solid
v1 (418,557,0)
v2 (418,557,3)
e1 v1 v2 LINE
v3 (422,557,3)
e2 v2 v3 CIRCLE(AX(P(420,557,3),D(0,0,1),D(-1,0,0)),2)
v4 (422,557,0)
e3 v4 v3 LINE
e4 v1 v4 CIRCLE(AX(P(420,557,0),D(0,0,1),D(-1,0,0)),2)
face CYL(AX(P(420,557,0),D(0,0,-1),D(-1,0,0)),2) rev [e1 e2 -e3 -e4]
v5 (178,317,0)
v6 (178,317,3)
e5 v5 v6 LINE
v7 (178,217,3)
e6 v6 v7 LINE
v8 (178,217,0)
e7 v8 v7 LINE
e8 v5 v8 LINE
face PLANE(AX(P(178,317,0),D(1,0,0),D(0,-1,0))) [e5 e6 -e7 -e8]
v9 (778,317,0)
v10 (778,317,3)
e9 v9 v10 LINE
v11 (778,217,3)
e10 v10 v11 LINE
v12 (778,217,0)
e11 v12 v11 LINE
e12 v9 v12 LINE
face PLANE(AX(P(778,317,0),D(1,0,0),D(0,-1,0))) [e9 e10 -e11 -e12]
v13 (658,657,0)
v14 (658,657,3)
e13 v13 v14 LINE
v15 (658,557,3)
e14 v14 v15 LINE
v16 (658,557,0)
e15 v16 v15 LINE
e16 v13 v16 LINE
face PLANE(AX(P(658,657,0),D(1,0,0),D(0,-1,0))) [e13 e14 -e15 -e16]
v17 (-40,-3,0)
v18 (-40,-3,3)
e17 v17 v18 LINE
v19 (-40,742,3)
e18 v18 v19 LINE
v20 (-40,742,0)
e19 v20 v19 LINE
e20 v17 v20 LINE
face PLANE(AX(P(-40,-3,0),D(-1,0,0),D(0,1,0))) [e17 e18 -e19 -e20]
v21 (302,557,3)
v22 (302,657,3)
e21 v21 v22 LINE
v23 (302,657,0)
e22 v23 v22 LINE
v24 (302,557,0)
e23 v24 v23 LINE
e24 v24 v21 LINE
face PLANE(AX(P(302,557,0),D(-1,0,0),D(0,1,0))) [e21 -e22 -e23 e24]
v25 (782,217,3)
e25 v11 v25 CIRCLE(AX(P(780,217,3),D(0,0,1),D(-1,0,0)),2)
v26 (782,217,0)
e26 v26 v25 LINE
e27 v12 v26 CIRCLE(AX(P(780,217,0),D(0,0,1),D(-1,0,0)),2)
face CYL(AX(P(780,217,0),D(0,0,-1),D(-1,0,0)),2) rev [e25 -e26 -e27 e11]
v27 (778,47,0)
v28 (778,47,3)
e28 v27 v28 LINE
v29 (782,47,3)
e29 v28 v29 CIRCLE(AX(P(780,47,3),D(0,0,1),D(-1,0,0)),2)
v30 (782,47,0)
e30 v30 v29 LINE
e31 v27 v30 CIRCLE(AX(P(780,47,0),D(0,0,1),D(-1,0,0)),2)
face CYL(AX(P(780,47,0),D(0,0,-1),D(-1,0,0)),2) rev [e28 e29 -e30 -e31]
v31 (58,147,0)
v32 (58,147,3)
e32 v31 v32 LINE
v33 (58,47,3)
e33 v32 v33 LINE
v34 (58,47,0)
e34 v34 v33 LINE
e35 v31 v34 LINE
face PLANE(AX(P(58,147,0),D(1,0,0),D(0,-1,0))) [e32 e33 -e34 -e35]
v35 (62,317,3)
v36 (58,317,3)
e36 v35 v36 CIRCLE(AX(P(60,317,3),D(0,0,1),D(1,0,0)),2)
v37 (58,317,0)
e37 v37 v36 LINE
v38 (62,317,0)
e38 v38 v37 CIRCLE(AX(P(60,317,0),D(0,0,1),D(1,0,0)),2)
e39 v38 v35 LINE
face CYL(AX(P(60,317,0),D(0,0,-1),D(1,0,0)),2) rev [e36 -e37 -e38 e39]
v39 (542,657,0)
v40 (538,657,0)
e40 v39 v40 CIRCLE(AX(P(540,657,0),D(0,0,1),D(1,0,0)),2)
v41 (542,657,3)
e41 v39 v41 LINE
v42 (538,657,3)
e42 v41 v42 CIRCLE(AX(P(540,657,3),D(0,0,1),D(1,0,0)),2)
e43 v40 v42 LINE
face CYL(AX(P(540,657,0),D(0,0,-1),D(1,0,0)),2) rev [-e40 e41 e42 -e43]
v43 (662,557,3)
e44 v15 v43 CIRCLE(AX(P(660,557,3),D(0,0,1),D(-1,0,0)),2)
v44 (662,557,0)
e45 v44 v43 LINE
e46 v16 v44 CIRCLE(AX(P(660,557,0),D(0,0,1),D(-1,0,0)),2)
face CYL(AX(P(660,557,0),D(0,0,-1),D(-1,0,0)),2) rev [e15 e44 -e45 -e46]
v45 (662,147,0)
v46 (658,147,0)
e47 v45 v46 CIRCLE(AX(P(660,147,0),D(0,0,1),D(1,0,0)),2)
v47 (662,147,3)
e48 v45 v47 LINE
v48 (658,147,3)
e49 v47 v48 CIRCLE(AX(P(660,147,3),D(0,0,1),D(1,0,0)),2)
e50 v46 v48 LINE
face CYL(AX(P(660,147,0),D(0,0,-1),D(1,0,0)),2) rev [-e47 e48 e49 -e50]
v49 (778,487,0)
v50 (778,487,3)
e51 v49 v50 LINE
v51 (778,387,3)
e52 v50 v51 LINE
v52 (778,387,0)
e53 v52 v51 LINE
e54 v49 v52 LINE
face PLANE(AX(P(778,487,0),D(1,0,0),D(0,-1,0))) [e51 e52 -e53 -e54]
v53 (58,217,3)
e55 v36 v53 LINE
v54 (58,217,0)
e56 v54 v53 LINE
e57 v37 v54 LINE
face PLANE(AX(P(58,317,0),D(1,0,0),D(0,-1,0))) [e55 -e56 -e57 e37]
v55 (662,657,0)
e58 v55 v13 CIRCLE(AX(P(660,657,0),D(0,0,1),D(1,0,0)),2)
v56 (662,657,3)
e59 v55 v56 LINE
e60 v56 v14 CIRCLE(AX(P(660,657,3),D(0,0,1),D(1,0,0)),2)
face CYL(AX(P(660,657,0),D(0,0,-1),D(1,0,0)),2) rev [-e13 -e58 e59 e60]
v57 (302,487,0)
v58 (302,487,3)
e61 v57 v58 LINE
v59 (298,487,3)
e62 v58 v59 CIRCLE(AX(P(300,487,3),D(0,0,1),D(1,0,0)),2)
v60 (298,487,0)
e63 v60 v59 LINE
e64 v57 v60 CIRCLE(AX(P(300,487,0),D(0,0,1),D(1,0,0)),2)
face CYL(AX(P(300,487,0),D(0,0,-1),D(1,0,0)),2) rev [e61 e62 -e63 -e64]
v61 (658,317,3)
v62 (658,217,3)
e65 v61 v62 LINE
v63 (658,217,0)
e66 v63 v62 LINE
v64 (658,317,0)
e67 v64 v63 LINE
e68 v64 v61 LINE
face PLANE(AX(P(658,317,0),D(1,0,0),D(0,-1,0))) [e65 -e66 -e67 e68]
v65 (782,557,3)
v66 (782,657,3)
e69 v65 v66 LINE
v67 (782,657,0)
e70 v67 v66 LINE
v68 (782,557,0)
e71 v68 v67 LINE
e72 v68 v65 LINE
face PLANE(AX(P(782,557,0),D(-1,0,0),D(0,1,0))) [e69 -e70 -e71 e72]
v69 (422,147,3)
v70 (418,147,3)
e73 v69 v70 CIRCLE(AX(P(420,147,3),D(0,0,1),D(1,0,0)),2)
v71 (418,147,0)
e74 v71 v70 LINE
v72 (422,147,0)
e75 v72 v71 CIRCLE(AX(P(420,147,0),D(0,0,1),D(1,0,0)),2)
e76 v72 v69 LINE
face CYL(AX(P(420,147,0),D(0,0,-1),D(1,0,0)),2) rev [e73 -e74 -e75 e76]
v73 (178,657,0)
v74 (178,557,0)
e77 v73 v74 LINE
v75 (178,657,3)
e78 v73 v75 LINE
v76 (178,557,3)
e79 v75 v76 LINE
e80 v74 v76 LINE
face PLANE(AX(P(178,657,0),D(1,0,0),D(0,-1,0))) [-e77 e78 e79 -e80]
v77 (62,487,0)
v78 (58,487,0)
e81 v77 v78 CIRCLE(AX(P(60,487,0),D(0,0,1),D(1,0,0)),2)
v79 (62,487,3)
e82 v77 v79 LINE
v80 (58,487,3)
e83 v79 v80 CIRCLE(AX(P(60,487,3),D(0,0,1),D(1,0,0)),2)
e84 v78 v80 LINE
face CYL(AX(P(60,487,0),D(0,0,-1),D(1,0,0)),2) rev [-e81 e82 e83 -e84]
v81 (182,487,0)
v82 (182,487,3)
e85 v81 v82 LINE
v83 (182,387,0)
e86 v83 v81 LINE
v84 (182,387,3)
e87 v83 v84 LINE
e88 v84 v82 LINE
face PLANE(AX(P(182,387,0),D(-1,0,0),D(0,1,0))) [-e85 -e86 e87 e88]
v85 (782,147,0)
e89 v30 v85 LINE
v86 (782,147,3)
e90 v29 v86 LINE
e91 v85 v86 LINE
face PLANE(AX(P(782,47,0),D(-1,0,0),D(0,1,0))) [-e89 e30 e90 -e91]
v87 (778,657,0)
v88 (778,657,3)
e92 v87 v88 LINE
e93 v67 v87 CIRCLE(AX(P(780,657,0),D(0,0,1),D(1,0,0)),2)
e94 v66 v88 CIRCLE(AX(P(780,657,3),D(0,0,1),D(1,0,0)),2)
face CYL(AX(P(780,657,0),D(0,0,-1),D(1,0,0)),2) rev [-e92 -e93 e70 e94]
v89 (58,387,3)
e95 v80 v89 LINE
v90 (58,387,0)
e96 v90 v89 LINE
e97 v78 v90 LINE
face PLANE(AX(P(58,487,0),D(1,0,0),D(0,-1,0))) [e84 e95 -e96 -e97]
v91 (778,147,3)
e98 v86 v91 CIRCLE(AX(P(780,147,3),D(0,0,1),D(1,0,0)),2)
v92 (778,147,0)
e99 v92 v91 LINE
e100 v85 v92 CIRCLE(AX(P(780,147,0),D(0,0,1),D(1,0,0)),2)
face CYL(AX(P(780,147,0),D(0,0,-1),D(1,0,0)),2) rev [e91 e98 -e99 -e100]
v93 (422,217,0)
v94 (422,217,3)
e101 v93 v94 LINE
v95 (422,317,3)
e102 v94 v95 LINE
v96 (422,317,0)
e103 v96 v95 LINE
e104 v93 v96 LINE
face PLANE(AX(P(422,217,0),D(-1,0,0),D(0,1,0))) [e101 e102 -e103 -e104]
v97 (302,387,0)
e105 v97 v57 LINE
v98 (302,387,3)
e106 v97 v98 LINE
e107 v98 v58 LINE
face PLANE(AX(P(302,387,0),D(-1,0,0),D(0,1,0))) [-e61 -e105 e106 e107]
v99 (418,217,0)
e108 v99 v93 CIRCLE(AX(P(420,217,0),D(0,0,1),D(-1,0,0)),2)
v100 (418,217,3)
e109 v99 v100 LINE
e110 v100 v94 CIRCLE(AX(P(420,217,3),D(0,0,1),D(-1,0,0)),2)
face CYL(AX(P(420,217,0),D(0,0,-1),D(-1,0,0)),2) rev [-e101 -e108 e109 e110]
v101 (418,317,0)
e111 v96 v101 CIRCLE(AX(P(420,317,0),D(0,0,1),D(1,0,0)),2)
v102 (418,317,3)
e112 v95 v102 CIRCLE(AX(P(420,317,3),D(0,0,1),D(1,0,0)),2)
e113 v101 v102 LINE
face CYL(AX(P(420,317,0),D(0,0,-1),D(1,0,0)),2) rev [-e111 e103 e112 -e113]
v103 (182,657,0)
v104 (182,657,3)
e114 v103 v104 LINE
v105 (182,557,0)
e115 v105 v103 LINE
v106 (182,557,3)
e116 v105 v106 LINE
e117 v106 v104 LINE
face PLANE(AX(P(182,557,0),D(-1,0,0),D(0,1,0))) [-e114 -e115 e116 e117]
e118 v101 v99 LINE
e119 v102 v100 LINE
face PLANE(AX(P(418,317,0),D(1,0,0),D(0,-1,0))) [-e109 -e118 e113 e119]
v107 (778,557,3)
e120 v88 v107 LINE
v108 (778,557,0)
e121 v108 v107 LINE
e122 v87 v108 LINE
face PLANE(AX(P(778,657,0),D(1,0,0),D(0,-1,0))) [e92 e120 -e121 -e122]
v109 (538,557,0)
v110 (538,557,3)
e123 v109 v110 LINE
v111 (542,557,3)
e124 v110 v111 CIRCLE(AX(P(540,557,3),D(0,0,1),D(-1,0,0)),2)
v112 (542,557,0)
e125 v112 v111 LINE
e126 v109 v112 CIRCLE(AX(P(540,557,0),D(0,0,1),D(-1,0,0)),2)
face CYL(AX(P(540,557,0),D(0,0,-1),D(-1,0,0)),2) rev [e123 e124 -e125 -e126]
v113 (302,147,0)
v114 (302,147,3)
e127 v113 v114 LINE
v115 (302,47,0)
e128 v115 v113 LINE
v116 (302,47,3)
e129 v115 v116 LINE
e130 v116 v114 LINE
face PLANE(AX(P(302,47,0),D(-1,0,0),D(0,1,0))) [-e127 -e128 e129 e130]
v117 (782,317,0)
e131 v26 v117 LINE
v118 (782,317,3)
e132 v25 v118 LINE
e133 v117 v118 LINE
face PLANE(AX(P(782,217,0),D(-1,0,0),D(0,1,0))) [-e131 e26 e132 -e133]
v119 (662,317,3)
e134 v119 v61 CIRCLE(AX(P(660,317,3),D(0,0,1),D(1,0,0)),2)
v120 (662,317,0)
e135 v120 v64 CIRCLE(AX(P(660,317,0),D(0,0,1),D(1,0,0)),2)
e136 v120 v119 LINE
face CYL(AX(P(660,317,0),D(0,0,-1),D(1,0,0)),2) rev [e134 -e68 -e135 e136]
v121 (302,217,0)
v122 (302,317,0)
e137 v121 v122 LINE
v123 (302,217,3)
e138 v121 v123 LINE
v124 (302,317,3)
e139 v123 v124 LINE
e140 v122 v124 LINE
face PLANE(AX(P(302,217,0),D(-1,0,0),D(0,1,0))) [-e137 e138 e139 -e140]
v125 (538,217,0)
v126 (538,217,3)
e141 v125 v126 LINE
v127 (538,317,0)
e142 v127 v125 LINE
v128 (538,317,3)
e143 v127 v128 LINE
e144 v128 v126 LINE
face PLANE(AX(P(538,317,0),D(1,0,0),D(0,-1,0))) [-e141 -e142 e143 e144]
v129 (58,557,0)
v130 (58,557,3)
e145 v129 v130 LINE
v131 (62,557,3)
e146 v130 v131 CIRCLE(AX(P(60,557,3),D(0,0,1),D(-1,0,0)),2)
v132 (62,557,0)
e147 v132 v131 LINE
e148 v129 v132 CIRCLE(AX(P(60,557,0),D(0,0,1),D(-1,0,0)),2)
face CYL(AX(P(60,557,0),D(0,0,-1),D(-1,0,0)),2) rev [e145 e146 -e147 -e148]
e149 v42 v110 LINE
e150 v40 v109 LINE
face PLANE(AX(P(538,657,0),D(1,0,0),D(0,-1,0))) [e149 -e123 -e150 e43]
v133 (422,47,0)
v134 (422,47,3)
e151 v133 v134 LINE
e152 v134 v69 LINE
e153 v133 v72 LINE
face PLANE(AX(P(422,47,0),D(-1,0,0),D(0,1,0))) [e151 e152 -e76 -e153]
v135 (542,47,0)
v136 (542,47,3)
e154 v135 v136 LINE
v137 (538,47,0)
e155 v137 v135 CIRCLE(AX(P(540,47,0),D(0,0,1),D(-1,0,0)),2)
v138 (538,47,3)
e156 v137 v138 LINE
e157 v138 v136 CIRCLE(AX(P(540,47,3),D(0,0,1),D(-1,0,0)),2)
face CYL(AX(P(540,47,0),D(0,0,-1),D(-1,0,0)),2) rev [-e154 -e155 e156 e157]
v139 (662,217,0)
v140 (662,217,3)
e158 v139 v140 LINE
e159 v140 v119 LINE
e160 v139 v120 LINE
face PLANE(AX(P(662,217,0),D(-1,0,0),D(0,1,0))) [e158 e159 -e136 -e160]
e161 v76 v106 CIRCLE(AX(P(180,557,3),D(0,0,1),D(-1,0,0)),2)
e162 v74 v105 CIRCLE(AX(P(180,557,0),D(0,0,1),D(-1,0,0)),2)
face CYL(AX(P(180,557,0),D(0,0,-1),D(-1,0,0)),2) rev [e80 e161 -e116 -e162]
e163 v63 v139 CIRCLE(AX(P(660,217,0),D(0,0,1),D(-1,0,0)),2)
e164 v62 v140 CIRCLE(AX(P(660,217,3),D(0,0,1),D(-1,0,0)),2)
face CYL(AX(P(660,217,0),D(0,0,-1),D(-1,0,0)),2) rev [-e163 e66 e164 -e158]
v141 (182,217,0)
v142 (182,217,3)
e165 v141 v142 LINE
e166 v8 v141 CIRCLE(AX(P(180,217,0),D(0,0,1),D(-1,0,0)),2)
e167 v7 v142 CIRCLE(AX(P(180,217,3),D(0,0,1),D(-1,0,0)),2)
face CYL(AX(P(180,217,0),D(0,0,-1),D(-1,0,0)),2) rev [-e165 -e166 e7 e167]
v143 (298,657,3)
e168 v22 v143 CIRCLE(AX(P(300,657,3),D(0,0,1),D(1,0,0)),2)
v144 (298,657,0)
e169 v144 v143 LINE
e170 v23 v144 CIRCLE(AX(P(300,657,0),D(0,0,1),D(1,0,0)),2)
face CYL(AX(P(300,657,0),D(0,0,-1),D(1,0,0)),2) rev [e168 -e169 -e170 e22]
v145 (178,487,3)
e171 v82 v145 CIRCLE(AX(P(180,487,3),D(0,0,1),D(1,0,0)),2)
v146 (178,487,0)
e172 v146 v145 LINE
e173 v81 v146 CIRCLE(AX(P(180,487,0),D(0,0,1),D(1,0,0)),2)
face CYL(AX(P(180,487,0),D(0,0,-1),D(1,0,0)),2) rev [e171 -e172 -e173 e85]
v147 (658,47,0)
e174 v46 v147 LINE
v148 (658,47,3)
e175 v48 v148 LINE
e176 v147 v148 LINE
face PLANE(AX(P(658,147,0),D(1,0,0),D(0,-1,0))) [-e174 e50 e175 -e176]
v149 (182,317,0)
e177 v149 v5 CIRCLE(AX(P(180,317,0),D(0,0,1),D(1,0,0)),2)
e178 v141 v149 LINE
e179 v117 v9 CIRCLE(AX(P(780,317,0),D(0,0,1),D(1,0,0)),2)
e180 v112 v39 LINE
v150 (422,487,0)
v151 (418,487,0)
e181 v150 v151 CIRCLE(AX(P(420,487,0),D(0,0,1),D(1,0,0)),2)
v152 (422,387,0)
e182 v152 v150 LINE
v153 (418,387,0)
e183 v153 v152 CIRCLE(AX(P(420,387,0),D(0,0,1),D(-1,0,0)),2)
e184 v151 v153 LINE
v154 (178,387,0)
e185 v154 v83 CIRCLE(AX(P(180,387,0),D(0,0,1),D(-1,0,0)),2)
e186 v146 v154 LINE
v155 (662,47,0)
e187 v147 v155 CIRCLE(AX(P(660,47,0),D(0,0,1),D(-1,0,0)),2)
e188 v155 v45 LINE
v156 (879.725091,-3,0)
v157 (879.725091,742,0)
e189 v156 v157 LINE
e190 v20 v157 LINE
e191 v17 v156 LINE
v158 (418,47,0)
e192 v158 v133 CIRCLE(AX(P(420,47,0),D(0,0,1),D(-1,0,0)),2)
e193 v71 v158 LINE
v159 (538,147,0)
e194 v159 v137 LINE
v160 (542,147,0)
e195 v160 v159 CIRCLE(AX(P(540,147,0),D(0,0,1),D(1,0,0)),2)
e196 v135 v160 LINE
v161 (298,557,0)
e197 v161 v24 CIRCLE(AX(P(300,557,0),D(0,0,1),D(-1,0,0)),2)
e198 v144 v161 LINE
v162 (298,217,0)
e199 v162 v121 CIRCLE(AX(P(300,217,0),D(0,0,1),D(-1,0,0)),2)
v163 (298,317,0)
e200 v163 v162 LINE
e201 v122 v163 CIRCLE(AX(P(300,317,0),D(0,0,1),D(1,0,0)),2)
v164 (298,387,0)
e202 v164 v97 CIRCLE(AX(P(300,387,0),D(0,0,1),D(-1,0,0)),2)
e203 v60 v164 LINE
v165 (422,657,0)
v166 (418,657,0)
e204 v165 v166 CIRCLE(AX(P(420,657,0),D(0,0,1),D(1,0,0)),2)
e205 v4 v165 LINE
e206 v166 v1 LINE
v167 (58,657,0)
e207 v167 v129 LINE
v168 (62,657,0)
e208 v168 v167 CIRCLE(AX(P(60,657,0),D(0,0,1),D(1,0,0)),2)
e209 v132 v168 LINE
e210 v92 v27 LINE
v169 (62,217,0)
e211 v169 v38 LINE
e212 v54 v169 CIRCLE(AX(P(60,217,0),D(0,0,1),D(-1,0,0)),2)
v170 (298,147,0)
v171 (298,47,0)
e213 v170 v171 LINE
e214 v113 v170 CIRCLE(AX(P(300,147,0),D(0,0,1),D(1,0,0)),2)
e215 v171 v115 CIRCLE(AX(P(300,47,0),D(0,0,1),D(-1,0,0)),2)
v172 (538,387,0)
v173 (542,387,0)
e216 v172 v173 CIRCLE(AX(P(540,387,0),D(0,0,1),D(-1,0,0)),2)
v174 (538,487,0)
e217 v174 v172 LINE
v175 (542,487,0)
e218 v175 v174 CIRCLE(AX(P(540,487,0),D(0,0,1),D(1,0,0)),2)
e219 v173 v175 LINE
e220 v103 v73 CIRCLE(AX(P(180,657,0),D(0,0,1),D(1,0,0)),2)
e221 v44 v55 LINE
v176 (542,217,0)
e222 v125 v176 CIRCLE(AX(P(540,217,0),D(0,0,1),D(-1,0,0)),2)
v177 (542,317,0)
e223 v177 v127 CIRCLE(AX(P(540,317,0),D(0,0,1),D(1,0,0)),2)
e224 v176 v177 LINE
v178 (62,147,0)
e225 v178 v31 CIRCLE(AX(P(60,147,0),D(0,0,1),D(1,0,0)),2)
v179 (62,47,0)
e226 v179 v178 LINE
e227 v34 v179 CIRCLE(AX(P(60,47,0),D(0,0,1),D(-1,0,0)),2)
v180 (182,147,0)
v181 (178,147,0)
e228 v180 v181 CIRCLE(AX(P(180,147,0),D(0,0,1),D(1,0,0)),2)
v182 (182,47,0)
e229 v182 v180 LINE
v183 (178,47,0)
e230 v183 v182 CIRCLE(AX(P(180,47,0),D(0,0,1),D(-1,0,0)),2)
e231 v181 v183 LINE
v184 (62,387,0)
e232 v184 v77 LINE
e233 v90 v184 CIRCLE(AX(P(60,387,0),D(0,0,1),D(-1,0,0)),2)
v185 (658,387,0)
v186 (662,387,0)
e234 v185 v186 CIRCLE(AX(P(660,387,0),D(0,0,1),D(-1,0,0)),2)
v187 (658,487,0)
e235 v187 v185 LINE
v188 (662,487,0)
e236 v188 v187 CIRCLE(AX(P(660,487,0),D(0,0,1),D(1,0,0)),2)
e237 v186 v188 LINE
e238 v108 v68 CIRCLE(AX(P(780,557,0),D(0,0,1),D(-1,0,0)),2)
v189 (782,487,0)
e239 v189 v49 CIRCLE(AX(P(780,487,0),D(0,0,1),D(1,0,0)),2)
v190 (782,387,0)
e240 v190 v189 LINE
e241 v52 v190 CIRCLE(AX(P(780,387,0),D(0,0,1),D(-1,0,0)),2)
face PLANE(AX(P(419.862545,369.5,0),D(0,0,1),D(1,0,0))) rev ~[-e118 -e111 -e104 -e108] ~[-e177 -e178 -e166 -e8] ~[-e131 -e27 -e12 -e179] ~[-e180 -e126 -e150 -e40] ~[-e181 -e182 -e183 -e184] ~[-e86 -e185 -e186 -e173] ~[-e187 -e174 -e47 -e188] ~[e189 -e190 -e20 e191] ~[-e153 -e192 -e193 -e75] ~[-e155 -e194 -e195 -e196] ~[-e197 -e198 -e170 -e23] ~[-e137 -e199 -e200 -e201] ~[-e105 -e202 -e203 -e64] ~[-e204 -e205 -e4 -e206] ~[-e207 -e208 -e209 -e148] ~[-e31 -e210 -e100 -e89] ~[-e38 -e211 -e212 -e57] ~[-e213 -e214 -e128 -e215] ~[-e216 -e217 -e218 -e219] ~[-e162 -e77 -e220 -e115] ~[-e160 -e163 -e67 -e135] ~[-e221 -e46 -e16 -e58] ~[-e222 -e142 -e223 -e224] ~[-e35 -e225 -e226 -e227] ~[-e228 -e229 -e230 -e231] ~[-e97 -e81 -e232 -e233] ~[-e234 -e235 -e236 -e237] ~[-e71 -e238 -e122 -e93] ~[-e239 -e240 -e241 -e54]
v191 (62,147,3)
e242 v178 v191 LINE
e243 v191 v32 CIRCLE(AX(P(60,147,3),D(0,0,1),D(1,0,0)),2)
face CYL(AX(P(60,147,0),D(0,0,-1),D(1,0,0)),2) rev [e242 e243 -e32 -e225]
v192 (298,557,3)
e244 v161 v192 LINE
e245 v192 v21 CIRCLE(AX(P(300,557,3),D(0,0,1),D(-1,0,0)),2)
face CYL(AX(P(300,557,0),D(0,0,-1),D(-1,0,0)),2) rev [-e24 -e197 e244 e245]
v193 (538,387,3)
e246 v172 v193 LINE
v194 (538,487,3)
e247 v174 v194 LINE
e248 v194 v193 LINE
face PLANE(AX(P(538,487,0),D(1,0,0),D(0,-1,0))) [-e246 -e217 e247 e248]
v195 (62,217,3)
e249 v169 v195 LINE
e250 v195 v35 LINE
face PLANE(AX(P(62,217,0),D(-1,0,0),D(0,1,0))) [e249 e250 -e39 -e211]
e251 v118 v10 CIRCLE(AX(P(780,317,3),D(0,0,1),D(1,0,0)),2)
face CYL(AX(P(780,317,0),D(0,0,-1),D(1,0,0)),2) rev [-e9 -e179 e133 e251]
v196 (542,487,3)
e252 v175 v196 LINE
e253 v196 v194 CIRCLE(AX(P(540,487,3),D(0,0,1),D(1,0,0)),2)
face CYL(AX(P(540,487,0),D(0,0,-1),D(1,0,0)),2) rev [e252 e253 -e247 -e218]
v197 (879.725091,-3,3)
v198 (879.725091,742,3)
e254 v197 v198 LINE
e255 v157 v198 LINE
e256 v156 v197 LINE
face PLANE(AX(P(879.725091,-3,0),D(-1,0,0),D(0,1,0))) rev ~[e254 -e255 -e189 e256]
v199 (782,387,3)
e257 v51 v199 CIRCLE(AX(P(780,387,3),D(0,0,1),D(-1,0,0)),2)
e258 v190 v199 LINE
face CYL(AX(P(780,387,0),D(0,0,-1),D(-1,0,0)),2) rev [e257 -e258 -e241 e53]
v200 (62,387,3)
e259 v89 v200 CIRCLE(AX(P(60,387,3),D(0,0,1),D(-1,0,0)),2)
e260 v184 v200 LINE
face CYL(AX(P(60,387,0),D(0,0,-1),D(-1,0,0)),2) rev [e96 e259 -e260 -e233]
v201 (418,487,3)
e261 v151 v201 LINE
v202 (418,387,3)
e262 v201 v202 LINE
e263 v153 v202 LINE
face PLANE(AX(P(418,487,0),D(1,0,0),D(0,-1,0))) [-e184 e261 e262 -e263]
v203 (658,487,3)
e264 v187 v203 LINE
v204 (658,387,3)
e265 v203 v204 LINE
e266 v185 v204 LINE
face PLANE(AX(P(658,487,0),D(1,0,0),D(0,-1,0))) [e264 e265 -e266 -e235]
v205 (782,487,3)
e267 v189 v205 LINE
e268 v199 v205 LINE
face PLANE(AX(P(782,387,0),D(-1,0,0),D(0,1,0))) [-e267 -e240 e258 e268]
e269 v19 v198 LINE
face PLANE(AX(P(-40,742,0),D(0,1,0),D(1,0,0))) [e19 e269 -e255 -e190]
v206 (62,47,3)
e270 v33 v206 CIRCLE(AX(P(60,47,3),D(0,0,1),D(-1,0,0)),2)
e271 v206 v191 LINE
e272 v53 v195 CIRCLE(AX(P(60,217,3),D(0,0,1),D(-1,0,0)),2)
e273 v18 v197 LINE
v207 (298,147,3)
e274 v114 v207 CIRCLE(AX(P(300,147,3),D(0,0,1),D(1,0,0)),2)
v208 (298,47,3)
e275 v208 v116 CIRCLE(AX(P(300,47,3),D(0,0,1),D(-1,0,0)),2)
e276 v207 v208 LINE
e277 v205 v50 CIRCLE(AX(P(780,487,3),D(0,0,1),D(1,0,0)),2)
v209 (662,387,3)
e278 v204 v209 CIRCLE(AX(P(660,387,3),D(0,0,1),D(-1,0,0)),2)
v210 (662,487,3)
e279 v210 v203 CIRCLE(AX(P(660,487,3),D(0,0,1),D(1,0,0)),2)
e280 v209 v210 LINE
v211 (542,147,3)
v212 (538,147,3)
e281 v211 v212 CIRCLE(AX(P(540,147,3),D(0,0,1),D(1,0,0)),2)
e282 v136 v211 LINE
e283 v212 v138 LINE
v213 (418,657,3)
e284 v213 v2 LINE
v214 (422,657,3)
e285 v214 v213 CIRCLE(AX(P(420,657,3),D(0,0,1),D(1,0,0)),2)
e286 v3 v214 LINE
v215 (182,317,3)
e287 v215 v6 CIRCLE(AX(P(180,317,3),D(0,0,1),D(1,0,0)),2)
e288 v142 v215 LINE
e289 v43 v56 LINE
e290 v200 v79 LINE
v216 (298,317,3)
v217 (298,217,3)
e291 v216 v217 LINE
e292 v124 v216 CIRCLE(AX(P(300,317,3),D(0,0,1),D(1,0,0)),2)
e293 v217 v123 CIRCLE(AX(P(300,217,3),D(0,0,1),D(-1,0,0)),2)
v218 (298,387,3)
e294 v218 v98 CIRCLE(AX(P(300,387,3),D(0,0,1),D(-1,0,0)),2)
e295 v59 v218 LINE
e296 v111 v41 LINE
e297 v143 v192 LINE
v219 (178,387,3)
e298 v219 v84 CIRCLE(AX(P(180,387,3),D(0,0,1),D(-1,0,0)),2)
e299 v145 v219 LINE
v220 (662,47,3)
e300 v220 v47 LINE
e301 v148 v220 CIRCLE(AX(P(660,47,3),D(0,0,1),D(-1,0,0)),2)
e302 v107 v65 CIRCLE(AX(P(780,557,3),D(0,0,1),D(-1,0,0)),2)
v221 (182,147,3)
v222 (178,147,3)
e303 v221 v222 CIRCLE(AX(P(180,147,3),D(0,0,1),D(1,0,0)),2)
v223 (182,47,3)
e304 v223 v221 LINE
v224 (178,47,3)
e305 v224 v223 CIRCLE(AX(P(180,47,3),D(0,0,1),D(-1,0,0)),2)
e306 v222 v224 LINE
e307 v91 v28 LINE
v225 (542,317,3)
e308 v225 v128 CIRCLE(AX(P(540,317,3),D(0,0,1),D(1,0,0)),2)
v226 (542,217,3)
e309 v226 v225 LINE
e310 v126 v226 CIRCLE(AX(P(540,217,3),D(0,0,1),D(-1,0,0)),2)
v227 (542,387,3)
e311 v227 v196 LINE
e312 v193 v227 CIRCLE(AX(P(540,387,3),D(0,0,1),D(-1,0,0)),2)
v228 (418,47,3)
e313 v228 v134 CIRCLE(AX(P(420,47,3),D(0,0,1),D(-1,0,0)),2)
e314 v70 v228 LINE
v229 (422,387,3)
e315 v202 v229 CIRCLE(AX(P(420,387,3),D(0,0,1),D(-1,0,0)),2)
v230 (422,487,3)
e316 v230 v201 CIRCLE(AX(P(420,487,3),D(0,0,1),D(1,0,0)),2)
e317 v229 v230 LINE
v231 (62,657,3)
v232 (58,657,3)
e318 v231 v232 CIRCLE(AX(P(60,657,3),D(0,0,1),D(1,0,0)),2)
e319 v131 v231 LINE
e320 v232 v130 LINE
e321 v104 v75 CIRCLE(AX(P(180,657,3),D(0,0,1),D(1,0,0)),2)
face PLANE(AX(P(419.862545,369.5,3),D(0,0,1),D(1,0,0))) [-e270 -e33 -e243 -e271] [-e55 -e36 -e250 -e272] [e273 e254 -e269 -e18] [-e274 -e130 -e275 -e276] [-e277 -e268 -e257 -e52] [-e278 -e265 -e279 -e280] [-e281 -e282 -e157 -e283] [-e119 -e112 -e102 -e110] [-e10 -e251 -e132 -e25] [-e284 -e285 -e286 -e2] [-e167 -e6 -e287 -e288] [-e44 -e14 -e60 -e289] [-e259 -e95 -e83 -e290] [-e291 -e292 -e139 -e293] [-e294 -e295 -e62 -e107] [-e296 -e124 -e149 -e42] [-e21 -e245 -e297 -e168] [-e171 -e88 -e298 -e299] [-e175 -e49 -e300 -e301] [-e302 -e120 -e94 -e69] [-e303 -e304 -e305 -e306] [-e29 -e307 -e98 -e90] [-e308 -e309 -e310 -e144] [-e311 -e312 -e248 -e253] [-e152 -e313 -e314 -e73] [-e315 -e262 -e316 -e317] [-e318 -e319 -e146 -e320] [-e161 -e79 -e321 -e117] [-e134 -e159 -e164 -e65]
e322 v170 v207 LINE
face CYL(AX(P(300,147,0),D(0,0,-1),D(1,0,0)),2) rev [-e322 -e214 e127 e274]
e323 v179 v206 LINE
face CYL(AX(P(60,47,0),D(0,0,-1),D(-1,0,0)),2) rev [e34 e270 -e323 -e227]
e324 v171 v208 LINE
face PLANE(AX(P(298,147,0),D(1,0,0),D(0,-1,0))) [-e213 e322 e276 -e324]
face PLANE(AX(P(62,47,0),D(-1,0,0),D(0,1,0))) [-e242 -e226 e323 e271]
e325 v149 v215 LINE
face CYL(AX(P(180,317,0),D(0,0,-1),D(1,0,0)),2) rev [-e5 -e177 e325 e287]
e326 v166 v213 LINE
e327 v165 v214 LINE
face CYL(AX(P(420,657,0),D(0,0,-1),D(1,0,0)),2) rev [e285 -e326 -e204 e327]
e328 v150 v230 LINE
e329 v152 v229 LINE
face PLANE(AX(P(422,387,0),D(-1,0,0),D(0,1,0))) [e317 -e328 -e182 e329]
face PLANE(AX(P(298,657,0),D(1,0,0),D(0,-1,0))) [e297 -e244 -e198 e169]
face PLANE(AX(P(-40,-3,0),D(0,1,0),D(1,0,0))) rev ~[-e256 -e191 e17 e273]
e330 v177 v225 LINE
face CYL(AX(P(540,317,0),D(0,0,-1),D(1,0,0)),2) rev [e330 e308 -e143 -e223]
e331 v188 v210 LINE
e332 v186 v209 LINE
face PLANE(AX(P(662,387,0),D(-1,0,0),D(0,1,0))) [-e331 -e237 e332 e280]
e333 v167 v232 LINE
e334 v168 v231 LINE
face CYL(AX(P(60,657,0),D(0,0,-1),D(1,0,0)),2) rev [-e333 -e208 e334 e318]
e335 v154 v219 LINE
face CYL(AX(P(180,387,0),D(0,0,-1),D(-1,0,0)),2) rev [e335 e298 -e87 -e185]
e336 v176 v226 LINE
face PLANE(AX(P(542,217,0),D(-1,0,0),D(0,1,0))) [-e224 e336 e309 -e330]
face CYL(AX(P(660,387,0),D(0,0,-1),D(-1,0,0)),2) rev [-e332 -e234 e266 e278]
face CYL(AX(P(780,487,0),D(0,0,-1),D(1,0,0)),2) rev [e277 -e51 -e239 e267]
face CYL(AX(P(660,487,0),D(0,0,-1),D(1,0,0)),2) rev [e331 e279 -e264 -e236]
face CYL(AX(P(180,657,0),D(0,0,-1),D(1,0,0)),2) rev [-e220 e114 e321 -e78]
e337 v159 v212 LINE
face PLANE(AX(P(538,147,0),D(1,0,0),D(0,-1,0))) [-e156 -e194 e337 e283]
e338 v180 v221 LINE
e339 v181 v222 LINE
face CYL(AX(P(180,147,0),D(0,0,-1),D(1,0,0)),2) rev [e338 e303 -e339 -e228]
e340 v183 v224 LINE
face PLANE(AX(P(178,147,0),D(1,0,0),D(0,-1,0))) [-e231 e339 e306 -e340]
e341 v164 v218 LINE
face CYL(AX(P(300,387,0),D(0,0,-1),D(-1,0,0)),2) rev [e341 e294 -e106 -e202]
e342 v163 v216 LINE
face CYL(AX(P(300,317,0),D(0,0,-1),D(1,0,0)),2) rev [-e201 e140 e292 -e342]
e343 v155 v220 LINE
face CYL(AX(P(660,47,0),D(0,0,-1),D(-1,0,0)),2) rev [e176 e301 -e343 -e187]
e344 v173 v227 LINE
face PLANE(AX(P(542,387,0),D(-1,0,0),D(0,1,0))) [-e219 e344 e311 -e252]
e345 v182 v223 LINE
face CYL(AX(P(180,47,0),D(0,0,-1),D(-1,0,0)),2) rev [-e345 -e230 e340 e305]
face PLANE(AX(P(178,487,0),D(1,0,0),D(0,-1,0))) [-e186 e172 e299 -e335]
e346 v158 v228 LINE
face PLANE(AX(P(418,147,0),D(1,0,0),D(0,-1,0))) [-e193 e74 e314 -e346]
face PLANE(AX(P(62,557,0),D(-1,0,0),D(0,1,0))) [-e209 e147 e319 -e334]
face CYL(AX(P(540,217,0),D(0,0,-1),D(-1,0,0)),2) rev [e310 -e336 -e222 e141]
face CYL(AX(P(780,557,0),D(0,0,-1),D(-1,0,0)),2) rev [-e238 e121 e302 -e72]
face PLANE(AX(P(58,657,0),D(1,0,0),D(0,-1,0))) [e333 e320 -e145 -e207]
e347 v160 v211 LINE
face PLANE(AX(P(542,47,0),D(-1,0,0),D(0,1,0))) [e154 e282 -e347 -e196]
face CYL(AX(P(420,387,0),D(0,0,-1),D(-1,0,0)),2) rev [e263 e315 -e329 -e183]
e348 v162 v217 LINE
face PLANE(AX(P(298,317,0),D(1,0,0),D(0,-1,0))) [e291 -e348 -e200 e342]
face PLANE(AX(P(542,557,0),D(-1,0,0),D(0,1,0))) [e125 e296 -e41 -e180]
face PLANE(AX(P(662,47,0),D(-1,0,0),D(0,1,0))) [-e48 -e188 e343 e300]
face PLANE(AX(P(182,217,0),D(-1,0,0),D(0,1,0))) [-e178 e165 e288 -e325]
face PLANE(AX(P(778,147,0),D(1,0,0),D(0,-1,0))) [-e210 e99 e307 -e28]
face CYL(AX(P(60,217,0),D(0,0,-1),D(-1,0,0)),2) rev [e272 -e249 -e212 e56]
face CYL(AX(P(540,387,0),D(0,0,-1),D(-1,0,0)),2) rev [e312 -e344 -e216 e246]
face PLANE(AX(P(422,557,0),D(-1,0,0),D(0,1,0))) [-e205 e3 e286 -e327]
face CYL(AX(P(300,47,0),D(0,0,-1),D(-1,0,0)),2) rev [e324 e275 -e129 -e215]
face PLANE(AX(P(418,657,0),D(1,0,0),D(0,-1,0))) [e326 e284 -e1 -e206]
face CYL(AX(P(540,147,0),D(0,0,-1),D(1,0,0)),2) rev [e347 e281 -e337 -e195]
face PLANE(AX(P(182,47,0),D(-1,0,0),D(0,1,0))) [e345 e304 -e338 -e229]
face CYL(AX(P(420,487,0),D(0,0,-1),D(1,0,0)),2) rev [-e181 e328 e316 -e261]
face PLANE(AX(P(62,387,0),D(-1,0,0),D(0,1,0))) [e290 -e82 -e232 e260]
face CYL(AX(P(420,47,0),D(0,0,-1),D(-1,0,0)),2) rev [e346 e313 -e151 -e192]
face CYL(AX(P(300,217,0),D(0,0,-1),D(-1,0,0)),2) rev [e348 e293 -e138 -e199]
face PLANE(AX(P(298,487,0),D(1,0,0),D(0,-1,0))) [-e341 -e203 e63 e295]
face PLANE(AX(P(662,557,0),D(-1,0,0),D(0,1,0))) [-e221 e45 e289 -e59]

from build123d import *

# Parameters (mm, degrees)
SKETCH_1_W          = 919.725090766
SKETCH_1_H          = 745
EXTRUDE_1_DEPTH     = 3
CUT_EXTRUDE_1_DEPTH = 3


with BuildPart() as part:
    # Эскиз1 → Бобышка-Вытянуть1 (new body)
    with BuildSketch(Plane.XY):
        with Locations((419.862545383, 369.5)):
            Rectangle(SKETCH_1_W, SKETCH_1_H)
    extrude(amount=EXTRUDE_1_DEPTH)

    # Эскиз3 → Вырез-Вытянуть1 (cut)
    with BuildSketch(Plane(origin=(0, 0, 0), x_dir=(-1, 0, 0), z_dir=(0, 0, -1))):
        with BuildLine():
            Line((-62, 47), (-62, 147))
            ThreePointArc((-62, 147), (-60, 149), (-58, 147))
            Line((-58, 147), (-58, 47))
            ThreePointArc((-58, 47), (-60, 45), (-62, 47))
        make_face()
        with BuildLine():
            Line((-182, 47), (-182, 147))
            ThreePointArc((-182, 147), (-180, 149), (-178, 147))
            Line((-178, 147), (-178, 47))
            ThreePointArc((-178, 47), (-180, 45), (-182, 47))
        make_face()
        with BuildLine():
            Line((-302, 47), (-302, 147))
            ThreePointArc((-302, 147), (-300, 149), (-298, 147))
            Line((-298, 147), (-298, 47))
            ThreePointArc((-298, 47), (-300, 45), (-302, 47))
        make_face()
        with BuildLine():
            Line((-422, 47), (-422, 147))
            ThreePointArc((-422, 147), (-420, 149), (-418, 147))
            Line((-418, 147), (-418, 47))
            ThreePointArc((-418, 47), (-420, 45), (-422, 47))
        make_face()
        with BuildLine():
            Line((-542, 47), (-542, 147))
            ThreePointArc((-542, 147), (-540, 149), (-538, 147))
            Line((-538, 147), (-538, 47))
            ThreePointArc((-538, 47), (-540, 45), (-542, 47))
        make_face()
        with BuildLine():
            Line((-662, 47), (-662, 147))
            ThreePointArc((-662, 147), (-660, 149), (-658, 147))
            Line((-658, 147), (-658, 47))
            ThreePointArc((-658, 47), (-660, 45), (-662, 47))
        make_face()
        with BuildLine():
            Line((-782, 47), (-782, 147))
            ThreePointArc((-782, 147), (-780, 149), (-778, 147))
            Line((-778, 147), (-778, 47))
            ThreePointArc((-778, 47), (-780, 45), (-782, 47))
        make_face()
        with BuildLine():
            Line((-182, 217), (-182, 317))
            ThreePointArc((-182, 317), (-180, 319), (-178, 317))
            Line((-178, 317), (-178, 217))
            ThreePointArc((-178, 217), (-180, 215), (-182, 217))
        make_face()
        with BuildLine():
            Line((-302, 217), (-302, 317))
            ThreePointArc((-302, 317), (-300, 319), (-298, 317))
            Line((-298, 317), (-298, 217))
            ThreePointArc((-298, 217), (-300, 215), (-302, 217))
        make_face()
        with BuildLine():
            Line((-422, 217), (-422, 317))
            ThreePointArc((-422, 317), (-420, 319), (-418, 317))
            Line((-418, 317), (-418, 217))
            ThreePointArc((-418, 217), (-420, 215), (-422, 217))
        make_face()
        with BuildLine():
            Line((-542, 217), (-542, 317))
            ThreePointArc((-542, 317), (-540, 319), (-538, 317))
            Line((-538, 317), (-538, 217))
            ThreePointArc((-538, 217), (-540, 215), (-542, 217))
        make_face()
        with BuildLine():
            Line((-662, 217), (-662, 317))
            ThreePointArc((-662, 317), (-660, 319), (-658, 317))
            Line((-658, 317), (-658, 217))
            ThreePointArc((-658, 217), (-660, 215), (-662, 217))
        make_face()
        with BuildLine():
            Line((-782, 217), (-782, 317))
            ThreePointArc((-782, 317), (-780, 319), (-778, 317))
            Line((-778, 317), (-778, 217))
            ThreePointArc((-778, 217), (-780, 215), (-782, 217))
        make_face()
        with BuildLine():
            Line((-182, 387), (-182, 487))
            ThreePointArc((-182, 487), (-180, 489), (-178, 487))
            Line((-178, 487), (-178, 387))
            ThreePointArc((-178, 387), (-180, 385), (-182, 387))
        make_face()
        with BuildLine():
            Line((-302, 387), (-302, 487))
            ThreePointArc((-302, 487), (-300, 489), (-298, 487))
            Line((-298, 487), (-298, 387))
            ThreePointArc((-298, 387), (-300, 385), (-302, 387))
        make_face()
        with BuildLine():
            Line((-422, 387), (-422, 487))
            ThreePointArc((-422, 487), (-420, 489), (-418, 487))
            Line((-418, 487), (-418, 387))
            ThreePointArc((-418, 387), (-420, 385), (-422, 387))
        make_face()
        with BuildLine():
            Line((-542, 387), (-542, 487))
            ThreePointArc((-542, 487), (-540, 489), (-538, 487))
            Line((-538, 487), (-538, 387))
            ThreePointArc((-538, 387), (-540, 385), (-542, 387))
        make_face()
        with BuildLine():
            Line((-662, 387), (-662, 487))
            ThreePointArc((-662, 487), (-660, 489), (-658, 487))
            Line((-658, 487), (-658, 387))
            ThreePointArc((-658, 387), (-660, 385), (-662, 387))
        make_face()
        with BuildLine():
            Line((-782, 387), (-782, 487))
            ThreePointArc((-782, 487), (-780, 489), (-778, 487))
            Line((-778, 487), (-778, 387))
            ThreePointArc((-778, 387), (-780, 385), (-782, 387))
        make_face()
        with BuildLine():
            Line((-182, 557), (-182, 657))
            ThreePointArc((-182, 657), (-180, 659), (-178, 657))
            Line((-178, 657), (-178, 557))
            ThreePointArc((-178, 557), (-180, 555), (-182, 557))
        make_face()
        with BuildLine():
            Line((-302, 557), (-302, 657))
            ThreePointArc((-302, 657), (-300, 659), (-298, 657))
            Line((-298, 657), (-298, 557))
            ThreePointArc((-298, 557), (-300, 555), (-302, 557))
        make_face()
        with BuildLine():
            Line((-422, 557), (-422, 657))
            ThreePointArc((-422, 657), (-420, 659), (-418, 657))
            Line((-418, 657), (-418, 557))
            ThreePointArc((-418, 557), (-420, 555), (-422, 557))
        make_face()
        with BuildLine():
            Line((-542, 557), (-542, 657))
            ThreePointArc((-542, 657), (-540, 659), (-538, 657))
            Line((-538, 657), (-538, 557))
            ThreePointArc((-538, 557), (-540, 555), (-542, 557))
        make_face()
        with BuildLine():
            Line((-662, 557), (-662, 657))
            ThreePointArc((-662, 657), (-660, 659), (-658, 657))
            Line((-658, 657), (-658, 557))
            ThreePointArc((-658, 557), (-660, 555), (-662, 557))
        make_face()
        with BuildLine():
            Line((-782, 557), (-782, 657))
            ThreePointArc((-782, 657), (-780, 659), (-778, 657))
            Line((-778, 657), (-778, 557))
            ThreePointArc((-778, 557), (-780, 555), (-782, 557))
        make_face()
        with BuildLine():
            Line((-62, 217), (-62, 317))
            ThreePointArc((-62, 317), (-60, 319), (-58, 317))
            Line((-58, 317), (-58, 217))
            ThreePointArc((-58, 217), (-60, 215), (-62, 217))
        make_face()
        with BuildLine():
            Line((-62, 387), (-62, 487))
            ThreePointArc((-62, 487), (-60, 489), (-58, 487))
            Line((-58, 487), (-58, 387))
            ThreePointArc((-58, 387), (-60, 385), (-62, 387))
        make_face()
        with BuildLine():
            Line((-62, 557), (-62, 657))
            ThreePointArc((-62, 657), (-60, 659), (-58, 657))
            Line((-58, 657), (-58, 557))
            ThreePointArc((-58, 557), (-60, 555), (-62, 557))
        make_face()
    extrude(amount=-CUT_EXTRUDE_1_DEPTH, mode=Mode.SUBTRACT)


solid = part.part
